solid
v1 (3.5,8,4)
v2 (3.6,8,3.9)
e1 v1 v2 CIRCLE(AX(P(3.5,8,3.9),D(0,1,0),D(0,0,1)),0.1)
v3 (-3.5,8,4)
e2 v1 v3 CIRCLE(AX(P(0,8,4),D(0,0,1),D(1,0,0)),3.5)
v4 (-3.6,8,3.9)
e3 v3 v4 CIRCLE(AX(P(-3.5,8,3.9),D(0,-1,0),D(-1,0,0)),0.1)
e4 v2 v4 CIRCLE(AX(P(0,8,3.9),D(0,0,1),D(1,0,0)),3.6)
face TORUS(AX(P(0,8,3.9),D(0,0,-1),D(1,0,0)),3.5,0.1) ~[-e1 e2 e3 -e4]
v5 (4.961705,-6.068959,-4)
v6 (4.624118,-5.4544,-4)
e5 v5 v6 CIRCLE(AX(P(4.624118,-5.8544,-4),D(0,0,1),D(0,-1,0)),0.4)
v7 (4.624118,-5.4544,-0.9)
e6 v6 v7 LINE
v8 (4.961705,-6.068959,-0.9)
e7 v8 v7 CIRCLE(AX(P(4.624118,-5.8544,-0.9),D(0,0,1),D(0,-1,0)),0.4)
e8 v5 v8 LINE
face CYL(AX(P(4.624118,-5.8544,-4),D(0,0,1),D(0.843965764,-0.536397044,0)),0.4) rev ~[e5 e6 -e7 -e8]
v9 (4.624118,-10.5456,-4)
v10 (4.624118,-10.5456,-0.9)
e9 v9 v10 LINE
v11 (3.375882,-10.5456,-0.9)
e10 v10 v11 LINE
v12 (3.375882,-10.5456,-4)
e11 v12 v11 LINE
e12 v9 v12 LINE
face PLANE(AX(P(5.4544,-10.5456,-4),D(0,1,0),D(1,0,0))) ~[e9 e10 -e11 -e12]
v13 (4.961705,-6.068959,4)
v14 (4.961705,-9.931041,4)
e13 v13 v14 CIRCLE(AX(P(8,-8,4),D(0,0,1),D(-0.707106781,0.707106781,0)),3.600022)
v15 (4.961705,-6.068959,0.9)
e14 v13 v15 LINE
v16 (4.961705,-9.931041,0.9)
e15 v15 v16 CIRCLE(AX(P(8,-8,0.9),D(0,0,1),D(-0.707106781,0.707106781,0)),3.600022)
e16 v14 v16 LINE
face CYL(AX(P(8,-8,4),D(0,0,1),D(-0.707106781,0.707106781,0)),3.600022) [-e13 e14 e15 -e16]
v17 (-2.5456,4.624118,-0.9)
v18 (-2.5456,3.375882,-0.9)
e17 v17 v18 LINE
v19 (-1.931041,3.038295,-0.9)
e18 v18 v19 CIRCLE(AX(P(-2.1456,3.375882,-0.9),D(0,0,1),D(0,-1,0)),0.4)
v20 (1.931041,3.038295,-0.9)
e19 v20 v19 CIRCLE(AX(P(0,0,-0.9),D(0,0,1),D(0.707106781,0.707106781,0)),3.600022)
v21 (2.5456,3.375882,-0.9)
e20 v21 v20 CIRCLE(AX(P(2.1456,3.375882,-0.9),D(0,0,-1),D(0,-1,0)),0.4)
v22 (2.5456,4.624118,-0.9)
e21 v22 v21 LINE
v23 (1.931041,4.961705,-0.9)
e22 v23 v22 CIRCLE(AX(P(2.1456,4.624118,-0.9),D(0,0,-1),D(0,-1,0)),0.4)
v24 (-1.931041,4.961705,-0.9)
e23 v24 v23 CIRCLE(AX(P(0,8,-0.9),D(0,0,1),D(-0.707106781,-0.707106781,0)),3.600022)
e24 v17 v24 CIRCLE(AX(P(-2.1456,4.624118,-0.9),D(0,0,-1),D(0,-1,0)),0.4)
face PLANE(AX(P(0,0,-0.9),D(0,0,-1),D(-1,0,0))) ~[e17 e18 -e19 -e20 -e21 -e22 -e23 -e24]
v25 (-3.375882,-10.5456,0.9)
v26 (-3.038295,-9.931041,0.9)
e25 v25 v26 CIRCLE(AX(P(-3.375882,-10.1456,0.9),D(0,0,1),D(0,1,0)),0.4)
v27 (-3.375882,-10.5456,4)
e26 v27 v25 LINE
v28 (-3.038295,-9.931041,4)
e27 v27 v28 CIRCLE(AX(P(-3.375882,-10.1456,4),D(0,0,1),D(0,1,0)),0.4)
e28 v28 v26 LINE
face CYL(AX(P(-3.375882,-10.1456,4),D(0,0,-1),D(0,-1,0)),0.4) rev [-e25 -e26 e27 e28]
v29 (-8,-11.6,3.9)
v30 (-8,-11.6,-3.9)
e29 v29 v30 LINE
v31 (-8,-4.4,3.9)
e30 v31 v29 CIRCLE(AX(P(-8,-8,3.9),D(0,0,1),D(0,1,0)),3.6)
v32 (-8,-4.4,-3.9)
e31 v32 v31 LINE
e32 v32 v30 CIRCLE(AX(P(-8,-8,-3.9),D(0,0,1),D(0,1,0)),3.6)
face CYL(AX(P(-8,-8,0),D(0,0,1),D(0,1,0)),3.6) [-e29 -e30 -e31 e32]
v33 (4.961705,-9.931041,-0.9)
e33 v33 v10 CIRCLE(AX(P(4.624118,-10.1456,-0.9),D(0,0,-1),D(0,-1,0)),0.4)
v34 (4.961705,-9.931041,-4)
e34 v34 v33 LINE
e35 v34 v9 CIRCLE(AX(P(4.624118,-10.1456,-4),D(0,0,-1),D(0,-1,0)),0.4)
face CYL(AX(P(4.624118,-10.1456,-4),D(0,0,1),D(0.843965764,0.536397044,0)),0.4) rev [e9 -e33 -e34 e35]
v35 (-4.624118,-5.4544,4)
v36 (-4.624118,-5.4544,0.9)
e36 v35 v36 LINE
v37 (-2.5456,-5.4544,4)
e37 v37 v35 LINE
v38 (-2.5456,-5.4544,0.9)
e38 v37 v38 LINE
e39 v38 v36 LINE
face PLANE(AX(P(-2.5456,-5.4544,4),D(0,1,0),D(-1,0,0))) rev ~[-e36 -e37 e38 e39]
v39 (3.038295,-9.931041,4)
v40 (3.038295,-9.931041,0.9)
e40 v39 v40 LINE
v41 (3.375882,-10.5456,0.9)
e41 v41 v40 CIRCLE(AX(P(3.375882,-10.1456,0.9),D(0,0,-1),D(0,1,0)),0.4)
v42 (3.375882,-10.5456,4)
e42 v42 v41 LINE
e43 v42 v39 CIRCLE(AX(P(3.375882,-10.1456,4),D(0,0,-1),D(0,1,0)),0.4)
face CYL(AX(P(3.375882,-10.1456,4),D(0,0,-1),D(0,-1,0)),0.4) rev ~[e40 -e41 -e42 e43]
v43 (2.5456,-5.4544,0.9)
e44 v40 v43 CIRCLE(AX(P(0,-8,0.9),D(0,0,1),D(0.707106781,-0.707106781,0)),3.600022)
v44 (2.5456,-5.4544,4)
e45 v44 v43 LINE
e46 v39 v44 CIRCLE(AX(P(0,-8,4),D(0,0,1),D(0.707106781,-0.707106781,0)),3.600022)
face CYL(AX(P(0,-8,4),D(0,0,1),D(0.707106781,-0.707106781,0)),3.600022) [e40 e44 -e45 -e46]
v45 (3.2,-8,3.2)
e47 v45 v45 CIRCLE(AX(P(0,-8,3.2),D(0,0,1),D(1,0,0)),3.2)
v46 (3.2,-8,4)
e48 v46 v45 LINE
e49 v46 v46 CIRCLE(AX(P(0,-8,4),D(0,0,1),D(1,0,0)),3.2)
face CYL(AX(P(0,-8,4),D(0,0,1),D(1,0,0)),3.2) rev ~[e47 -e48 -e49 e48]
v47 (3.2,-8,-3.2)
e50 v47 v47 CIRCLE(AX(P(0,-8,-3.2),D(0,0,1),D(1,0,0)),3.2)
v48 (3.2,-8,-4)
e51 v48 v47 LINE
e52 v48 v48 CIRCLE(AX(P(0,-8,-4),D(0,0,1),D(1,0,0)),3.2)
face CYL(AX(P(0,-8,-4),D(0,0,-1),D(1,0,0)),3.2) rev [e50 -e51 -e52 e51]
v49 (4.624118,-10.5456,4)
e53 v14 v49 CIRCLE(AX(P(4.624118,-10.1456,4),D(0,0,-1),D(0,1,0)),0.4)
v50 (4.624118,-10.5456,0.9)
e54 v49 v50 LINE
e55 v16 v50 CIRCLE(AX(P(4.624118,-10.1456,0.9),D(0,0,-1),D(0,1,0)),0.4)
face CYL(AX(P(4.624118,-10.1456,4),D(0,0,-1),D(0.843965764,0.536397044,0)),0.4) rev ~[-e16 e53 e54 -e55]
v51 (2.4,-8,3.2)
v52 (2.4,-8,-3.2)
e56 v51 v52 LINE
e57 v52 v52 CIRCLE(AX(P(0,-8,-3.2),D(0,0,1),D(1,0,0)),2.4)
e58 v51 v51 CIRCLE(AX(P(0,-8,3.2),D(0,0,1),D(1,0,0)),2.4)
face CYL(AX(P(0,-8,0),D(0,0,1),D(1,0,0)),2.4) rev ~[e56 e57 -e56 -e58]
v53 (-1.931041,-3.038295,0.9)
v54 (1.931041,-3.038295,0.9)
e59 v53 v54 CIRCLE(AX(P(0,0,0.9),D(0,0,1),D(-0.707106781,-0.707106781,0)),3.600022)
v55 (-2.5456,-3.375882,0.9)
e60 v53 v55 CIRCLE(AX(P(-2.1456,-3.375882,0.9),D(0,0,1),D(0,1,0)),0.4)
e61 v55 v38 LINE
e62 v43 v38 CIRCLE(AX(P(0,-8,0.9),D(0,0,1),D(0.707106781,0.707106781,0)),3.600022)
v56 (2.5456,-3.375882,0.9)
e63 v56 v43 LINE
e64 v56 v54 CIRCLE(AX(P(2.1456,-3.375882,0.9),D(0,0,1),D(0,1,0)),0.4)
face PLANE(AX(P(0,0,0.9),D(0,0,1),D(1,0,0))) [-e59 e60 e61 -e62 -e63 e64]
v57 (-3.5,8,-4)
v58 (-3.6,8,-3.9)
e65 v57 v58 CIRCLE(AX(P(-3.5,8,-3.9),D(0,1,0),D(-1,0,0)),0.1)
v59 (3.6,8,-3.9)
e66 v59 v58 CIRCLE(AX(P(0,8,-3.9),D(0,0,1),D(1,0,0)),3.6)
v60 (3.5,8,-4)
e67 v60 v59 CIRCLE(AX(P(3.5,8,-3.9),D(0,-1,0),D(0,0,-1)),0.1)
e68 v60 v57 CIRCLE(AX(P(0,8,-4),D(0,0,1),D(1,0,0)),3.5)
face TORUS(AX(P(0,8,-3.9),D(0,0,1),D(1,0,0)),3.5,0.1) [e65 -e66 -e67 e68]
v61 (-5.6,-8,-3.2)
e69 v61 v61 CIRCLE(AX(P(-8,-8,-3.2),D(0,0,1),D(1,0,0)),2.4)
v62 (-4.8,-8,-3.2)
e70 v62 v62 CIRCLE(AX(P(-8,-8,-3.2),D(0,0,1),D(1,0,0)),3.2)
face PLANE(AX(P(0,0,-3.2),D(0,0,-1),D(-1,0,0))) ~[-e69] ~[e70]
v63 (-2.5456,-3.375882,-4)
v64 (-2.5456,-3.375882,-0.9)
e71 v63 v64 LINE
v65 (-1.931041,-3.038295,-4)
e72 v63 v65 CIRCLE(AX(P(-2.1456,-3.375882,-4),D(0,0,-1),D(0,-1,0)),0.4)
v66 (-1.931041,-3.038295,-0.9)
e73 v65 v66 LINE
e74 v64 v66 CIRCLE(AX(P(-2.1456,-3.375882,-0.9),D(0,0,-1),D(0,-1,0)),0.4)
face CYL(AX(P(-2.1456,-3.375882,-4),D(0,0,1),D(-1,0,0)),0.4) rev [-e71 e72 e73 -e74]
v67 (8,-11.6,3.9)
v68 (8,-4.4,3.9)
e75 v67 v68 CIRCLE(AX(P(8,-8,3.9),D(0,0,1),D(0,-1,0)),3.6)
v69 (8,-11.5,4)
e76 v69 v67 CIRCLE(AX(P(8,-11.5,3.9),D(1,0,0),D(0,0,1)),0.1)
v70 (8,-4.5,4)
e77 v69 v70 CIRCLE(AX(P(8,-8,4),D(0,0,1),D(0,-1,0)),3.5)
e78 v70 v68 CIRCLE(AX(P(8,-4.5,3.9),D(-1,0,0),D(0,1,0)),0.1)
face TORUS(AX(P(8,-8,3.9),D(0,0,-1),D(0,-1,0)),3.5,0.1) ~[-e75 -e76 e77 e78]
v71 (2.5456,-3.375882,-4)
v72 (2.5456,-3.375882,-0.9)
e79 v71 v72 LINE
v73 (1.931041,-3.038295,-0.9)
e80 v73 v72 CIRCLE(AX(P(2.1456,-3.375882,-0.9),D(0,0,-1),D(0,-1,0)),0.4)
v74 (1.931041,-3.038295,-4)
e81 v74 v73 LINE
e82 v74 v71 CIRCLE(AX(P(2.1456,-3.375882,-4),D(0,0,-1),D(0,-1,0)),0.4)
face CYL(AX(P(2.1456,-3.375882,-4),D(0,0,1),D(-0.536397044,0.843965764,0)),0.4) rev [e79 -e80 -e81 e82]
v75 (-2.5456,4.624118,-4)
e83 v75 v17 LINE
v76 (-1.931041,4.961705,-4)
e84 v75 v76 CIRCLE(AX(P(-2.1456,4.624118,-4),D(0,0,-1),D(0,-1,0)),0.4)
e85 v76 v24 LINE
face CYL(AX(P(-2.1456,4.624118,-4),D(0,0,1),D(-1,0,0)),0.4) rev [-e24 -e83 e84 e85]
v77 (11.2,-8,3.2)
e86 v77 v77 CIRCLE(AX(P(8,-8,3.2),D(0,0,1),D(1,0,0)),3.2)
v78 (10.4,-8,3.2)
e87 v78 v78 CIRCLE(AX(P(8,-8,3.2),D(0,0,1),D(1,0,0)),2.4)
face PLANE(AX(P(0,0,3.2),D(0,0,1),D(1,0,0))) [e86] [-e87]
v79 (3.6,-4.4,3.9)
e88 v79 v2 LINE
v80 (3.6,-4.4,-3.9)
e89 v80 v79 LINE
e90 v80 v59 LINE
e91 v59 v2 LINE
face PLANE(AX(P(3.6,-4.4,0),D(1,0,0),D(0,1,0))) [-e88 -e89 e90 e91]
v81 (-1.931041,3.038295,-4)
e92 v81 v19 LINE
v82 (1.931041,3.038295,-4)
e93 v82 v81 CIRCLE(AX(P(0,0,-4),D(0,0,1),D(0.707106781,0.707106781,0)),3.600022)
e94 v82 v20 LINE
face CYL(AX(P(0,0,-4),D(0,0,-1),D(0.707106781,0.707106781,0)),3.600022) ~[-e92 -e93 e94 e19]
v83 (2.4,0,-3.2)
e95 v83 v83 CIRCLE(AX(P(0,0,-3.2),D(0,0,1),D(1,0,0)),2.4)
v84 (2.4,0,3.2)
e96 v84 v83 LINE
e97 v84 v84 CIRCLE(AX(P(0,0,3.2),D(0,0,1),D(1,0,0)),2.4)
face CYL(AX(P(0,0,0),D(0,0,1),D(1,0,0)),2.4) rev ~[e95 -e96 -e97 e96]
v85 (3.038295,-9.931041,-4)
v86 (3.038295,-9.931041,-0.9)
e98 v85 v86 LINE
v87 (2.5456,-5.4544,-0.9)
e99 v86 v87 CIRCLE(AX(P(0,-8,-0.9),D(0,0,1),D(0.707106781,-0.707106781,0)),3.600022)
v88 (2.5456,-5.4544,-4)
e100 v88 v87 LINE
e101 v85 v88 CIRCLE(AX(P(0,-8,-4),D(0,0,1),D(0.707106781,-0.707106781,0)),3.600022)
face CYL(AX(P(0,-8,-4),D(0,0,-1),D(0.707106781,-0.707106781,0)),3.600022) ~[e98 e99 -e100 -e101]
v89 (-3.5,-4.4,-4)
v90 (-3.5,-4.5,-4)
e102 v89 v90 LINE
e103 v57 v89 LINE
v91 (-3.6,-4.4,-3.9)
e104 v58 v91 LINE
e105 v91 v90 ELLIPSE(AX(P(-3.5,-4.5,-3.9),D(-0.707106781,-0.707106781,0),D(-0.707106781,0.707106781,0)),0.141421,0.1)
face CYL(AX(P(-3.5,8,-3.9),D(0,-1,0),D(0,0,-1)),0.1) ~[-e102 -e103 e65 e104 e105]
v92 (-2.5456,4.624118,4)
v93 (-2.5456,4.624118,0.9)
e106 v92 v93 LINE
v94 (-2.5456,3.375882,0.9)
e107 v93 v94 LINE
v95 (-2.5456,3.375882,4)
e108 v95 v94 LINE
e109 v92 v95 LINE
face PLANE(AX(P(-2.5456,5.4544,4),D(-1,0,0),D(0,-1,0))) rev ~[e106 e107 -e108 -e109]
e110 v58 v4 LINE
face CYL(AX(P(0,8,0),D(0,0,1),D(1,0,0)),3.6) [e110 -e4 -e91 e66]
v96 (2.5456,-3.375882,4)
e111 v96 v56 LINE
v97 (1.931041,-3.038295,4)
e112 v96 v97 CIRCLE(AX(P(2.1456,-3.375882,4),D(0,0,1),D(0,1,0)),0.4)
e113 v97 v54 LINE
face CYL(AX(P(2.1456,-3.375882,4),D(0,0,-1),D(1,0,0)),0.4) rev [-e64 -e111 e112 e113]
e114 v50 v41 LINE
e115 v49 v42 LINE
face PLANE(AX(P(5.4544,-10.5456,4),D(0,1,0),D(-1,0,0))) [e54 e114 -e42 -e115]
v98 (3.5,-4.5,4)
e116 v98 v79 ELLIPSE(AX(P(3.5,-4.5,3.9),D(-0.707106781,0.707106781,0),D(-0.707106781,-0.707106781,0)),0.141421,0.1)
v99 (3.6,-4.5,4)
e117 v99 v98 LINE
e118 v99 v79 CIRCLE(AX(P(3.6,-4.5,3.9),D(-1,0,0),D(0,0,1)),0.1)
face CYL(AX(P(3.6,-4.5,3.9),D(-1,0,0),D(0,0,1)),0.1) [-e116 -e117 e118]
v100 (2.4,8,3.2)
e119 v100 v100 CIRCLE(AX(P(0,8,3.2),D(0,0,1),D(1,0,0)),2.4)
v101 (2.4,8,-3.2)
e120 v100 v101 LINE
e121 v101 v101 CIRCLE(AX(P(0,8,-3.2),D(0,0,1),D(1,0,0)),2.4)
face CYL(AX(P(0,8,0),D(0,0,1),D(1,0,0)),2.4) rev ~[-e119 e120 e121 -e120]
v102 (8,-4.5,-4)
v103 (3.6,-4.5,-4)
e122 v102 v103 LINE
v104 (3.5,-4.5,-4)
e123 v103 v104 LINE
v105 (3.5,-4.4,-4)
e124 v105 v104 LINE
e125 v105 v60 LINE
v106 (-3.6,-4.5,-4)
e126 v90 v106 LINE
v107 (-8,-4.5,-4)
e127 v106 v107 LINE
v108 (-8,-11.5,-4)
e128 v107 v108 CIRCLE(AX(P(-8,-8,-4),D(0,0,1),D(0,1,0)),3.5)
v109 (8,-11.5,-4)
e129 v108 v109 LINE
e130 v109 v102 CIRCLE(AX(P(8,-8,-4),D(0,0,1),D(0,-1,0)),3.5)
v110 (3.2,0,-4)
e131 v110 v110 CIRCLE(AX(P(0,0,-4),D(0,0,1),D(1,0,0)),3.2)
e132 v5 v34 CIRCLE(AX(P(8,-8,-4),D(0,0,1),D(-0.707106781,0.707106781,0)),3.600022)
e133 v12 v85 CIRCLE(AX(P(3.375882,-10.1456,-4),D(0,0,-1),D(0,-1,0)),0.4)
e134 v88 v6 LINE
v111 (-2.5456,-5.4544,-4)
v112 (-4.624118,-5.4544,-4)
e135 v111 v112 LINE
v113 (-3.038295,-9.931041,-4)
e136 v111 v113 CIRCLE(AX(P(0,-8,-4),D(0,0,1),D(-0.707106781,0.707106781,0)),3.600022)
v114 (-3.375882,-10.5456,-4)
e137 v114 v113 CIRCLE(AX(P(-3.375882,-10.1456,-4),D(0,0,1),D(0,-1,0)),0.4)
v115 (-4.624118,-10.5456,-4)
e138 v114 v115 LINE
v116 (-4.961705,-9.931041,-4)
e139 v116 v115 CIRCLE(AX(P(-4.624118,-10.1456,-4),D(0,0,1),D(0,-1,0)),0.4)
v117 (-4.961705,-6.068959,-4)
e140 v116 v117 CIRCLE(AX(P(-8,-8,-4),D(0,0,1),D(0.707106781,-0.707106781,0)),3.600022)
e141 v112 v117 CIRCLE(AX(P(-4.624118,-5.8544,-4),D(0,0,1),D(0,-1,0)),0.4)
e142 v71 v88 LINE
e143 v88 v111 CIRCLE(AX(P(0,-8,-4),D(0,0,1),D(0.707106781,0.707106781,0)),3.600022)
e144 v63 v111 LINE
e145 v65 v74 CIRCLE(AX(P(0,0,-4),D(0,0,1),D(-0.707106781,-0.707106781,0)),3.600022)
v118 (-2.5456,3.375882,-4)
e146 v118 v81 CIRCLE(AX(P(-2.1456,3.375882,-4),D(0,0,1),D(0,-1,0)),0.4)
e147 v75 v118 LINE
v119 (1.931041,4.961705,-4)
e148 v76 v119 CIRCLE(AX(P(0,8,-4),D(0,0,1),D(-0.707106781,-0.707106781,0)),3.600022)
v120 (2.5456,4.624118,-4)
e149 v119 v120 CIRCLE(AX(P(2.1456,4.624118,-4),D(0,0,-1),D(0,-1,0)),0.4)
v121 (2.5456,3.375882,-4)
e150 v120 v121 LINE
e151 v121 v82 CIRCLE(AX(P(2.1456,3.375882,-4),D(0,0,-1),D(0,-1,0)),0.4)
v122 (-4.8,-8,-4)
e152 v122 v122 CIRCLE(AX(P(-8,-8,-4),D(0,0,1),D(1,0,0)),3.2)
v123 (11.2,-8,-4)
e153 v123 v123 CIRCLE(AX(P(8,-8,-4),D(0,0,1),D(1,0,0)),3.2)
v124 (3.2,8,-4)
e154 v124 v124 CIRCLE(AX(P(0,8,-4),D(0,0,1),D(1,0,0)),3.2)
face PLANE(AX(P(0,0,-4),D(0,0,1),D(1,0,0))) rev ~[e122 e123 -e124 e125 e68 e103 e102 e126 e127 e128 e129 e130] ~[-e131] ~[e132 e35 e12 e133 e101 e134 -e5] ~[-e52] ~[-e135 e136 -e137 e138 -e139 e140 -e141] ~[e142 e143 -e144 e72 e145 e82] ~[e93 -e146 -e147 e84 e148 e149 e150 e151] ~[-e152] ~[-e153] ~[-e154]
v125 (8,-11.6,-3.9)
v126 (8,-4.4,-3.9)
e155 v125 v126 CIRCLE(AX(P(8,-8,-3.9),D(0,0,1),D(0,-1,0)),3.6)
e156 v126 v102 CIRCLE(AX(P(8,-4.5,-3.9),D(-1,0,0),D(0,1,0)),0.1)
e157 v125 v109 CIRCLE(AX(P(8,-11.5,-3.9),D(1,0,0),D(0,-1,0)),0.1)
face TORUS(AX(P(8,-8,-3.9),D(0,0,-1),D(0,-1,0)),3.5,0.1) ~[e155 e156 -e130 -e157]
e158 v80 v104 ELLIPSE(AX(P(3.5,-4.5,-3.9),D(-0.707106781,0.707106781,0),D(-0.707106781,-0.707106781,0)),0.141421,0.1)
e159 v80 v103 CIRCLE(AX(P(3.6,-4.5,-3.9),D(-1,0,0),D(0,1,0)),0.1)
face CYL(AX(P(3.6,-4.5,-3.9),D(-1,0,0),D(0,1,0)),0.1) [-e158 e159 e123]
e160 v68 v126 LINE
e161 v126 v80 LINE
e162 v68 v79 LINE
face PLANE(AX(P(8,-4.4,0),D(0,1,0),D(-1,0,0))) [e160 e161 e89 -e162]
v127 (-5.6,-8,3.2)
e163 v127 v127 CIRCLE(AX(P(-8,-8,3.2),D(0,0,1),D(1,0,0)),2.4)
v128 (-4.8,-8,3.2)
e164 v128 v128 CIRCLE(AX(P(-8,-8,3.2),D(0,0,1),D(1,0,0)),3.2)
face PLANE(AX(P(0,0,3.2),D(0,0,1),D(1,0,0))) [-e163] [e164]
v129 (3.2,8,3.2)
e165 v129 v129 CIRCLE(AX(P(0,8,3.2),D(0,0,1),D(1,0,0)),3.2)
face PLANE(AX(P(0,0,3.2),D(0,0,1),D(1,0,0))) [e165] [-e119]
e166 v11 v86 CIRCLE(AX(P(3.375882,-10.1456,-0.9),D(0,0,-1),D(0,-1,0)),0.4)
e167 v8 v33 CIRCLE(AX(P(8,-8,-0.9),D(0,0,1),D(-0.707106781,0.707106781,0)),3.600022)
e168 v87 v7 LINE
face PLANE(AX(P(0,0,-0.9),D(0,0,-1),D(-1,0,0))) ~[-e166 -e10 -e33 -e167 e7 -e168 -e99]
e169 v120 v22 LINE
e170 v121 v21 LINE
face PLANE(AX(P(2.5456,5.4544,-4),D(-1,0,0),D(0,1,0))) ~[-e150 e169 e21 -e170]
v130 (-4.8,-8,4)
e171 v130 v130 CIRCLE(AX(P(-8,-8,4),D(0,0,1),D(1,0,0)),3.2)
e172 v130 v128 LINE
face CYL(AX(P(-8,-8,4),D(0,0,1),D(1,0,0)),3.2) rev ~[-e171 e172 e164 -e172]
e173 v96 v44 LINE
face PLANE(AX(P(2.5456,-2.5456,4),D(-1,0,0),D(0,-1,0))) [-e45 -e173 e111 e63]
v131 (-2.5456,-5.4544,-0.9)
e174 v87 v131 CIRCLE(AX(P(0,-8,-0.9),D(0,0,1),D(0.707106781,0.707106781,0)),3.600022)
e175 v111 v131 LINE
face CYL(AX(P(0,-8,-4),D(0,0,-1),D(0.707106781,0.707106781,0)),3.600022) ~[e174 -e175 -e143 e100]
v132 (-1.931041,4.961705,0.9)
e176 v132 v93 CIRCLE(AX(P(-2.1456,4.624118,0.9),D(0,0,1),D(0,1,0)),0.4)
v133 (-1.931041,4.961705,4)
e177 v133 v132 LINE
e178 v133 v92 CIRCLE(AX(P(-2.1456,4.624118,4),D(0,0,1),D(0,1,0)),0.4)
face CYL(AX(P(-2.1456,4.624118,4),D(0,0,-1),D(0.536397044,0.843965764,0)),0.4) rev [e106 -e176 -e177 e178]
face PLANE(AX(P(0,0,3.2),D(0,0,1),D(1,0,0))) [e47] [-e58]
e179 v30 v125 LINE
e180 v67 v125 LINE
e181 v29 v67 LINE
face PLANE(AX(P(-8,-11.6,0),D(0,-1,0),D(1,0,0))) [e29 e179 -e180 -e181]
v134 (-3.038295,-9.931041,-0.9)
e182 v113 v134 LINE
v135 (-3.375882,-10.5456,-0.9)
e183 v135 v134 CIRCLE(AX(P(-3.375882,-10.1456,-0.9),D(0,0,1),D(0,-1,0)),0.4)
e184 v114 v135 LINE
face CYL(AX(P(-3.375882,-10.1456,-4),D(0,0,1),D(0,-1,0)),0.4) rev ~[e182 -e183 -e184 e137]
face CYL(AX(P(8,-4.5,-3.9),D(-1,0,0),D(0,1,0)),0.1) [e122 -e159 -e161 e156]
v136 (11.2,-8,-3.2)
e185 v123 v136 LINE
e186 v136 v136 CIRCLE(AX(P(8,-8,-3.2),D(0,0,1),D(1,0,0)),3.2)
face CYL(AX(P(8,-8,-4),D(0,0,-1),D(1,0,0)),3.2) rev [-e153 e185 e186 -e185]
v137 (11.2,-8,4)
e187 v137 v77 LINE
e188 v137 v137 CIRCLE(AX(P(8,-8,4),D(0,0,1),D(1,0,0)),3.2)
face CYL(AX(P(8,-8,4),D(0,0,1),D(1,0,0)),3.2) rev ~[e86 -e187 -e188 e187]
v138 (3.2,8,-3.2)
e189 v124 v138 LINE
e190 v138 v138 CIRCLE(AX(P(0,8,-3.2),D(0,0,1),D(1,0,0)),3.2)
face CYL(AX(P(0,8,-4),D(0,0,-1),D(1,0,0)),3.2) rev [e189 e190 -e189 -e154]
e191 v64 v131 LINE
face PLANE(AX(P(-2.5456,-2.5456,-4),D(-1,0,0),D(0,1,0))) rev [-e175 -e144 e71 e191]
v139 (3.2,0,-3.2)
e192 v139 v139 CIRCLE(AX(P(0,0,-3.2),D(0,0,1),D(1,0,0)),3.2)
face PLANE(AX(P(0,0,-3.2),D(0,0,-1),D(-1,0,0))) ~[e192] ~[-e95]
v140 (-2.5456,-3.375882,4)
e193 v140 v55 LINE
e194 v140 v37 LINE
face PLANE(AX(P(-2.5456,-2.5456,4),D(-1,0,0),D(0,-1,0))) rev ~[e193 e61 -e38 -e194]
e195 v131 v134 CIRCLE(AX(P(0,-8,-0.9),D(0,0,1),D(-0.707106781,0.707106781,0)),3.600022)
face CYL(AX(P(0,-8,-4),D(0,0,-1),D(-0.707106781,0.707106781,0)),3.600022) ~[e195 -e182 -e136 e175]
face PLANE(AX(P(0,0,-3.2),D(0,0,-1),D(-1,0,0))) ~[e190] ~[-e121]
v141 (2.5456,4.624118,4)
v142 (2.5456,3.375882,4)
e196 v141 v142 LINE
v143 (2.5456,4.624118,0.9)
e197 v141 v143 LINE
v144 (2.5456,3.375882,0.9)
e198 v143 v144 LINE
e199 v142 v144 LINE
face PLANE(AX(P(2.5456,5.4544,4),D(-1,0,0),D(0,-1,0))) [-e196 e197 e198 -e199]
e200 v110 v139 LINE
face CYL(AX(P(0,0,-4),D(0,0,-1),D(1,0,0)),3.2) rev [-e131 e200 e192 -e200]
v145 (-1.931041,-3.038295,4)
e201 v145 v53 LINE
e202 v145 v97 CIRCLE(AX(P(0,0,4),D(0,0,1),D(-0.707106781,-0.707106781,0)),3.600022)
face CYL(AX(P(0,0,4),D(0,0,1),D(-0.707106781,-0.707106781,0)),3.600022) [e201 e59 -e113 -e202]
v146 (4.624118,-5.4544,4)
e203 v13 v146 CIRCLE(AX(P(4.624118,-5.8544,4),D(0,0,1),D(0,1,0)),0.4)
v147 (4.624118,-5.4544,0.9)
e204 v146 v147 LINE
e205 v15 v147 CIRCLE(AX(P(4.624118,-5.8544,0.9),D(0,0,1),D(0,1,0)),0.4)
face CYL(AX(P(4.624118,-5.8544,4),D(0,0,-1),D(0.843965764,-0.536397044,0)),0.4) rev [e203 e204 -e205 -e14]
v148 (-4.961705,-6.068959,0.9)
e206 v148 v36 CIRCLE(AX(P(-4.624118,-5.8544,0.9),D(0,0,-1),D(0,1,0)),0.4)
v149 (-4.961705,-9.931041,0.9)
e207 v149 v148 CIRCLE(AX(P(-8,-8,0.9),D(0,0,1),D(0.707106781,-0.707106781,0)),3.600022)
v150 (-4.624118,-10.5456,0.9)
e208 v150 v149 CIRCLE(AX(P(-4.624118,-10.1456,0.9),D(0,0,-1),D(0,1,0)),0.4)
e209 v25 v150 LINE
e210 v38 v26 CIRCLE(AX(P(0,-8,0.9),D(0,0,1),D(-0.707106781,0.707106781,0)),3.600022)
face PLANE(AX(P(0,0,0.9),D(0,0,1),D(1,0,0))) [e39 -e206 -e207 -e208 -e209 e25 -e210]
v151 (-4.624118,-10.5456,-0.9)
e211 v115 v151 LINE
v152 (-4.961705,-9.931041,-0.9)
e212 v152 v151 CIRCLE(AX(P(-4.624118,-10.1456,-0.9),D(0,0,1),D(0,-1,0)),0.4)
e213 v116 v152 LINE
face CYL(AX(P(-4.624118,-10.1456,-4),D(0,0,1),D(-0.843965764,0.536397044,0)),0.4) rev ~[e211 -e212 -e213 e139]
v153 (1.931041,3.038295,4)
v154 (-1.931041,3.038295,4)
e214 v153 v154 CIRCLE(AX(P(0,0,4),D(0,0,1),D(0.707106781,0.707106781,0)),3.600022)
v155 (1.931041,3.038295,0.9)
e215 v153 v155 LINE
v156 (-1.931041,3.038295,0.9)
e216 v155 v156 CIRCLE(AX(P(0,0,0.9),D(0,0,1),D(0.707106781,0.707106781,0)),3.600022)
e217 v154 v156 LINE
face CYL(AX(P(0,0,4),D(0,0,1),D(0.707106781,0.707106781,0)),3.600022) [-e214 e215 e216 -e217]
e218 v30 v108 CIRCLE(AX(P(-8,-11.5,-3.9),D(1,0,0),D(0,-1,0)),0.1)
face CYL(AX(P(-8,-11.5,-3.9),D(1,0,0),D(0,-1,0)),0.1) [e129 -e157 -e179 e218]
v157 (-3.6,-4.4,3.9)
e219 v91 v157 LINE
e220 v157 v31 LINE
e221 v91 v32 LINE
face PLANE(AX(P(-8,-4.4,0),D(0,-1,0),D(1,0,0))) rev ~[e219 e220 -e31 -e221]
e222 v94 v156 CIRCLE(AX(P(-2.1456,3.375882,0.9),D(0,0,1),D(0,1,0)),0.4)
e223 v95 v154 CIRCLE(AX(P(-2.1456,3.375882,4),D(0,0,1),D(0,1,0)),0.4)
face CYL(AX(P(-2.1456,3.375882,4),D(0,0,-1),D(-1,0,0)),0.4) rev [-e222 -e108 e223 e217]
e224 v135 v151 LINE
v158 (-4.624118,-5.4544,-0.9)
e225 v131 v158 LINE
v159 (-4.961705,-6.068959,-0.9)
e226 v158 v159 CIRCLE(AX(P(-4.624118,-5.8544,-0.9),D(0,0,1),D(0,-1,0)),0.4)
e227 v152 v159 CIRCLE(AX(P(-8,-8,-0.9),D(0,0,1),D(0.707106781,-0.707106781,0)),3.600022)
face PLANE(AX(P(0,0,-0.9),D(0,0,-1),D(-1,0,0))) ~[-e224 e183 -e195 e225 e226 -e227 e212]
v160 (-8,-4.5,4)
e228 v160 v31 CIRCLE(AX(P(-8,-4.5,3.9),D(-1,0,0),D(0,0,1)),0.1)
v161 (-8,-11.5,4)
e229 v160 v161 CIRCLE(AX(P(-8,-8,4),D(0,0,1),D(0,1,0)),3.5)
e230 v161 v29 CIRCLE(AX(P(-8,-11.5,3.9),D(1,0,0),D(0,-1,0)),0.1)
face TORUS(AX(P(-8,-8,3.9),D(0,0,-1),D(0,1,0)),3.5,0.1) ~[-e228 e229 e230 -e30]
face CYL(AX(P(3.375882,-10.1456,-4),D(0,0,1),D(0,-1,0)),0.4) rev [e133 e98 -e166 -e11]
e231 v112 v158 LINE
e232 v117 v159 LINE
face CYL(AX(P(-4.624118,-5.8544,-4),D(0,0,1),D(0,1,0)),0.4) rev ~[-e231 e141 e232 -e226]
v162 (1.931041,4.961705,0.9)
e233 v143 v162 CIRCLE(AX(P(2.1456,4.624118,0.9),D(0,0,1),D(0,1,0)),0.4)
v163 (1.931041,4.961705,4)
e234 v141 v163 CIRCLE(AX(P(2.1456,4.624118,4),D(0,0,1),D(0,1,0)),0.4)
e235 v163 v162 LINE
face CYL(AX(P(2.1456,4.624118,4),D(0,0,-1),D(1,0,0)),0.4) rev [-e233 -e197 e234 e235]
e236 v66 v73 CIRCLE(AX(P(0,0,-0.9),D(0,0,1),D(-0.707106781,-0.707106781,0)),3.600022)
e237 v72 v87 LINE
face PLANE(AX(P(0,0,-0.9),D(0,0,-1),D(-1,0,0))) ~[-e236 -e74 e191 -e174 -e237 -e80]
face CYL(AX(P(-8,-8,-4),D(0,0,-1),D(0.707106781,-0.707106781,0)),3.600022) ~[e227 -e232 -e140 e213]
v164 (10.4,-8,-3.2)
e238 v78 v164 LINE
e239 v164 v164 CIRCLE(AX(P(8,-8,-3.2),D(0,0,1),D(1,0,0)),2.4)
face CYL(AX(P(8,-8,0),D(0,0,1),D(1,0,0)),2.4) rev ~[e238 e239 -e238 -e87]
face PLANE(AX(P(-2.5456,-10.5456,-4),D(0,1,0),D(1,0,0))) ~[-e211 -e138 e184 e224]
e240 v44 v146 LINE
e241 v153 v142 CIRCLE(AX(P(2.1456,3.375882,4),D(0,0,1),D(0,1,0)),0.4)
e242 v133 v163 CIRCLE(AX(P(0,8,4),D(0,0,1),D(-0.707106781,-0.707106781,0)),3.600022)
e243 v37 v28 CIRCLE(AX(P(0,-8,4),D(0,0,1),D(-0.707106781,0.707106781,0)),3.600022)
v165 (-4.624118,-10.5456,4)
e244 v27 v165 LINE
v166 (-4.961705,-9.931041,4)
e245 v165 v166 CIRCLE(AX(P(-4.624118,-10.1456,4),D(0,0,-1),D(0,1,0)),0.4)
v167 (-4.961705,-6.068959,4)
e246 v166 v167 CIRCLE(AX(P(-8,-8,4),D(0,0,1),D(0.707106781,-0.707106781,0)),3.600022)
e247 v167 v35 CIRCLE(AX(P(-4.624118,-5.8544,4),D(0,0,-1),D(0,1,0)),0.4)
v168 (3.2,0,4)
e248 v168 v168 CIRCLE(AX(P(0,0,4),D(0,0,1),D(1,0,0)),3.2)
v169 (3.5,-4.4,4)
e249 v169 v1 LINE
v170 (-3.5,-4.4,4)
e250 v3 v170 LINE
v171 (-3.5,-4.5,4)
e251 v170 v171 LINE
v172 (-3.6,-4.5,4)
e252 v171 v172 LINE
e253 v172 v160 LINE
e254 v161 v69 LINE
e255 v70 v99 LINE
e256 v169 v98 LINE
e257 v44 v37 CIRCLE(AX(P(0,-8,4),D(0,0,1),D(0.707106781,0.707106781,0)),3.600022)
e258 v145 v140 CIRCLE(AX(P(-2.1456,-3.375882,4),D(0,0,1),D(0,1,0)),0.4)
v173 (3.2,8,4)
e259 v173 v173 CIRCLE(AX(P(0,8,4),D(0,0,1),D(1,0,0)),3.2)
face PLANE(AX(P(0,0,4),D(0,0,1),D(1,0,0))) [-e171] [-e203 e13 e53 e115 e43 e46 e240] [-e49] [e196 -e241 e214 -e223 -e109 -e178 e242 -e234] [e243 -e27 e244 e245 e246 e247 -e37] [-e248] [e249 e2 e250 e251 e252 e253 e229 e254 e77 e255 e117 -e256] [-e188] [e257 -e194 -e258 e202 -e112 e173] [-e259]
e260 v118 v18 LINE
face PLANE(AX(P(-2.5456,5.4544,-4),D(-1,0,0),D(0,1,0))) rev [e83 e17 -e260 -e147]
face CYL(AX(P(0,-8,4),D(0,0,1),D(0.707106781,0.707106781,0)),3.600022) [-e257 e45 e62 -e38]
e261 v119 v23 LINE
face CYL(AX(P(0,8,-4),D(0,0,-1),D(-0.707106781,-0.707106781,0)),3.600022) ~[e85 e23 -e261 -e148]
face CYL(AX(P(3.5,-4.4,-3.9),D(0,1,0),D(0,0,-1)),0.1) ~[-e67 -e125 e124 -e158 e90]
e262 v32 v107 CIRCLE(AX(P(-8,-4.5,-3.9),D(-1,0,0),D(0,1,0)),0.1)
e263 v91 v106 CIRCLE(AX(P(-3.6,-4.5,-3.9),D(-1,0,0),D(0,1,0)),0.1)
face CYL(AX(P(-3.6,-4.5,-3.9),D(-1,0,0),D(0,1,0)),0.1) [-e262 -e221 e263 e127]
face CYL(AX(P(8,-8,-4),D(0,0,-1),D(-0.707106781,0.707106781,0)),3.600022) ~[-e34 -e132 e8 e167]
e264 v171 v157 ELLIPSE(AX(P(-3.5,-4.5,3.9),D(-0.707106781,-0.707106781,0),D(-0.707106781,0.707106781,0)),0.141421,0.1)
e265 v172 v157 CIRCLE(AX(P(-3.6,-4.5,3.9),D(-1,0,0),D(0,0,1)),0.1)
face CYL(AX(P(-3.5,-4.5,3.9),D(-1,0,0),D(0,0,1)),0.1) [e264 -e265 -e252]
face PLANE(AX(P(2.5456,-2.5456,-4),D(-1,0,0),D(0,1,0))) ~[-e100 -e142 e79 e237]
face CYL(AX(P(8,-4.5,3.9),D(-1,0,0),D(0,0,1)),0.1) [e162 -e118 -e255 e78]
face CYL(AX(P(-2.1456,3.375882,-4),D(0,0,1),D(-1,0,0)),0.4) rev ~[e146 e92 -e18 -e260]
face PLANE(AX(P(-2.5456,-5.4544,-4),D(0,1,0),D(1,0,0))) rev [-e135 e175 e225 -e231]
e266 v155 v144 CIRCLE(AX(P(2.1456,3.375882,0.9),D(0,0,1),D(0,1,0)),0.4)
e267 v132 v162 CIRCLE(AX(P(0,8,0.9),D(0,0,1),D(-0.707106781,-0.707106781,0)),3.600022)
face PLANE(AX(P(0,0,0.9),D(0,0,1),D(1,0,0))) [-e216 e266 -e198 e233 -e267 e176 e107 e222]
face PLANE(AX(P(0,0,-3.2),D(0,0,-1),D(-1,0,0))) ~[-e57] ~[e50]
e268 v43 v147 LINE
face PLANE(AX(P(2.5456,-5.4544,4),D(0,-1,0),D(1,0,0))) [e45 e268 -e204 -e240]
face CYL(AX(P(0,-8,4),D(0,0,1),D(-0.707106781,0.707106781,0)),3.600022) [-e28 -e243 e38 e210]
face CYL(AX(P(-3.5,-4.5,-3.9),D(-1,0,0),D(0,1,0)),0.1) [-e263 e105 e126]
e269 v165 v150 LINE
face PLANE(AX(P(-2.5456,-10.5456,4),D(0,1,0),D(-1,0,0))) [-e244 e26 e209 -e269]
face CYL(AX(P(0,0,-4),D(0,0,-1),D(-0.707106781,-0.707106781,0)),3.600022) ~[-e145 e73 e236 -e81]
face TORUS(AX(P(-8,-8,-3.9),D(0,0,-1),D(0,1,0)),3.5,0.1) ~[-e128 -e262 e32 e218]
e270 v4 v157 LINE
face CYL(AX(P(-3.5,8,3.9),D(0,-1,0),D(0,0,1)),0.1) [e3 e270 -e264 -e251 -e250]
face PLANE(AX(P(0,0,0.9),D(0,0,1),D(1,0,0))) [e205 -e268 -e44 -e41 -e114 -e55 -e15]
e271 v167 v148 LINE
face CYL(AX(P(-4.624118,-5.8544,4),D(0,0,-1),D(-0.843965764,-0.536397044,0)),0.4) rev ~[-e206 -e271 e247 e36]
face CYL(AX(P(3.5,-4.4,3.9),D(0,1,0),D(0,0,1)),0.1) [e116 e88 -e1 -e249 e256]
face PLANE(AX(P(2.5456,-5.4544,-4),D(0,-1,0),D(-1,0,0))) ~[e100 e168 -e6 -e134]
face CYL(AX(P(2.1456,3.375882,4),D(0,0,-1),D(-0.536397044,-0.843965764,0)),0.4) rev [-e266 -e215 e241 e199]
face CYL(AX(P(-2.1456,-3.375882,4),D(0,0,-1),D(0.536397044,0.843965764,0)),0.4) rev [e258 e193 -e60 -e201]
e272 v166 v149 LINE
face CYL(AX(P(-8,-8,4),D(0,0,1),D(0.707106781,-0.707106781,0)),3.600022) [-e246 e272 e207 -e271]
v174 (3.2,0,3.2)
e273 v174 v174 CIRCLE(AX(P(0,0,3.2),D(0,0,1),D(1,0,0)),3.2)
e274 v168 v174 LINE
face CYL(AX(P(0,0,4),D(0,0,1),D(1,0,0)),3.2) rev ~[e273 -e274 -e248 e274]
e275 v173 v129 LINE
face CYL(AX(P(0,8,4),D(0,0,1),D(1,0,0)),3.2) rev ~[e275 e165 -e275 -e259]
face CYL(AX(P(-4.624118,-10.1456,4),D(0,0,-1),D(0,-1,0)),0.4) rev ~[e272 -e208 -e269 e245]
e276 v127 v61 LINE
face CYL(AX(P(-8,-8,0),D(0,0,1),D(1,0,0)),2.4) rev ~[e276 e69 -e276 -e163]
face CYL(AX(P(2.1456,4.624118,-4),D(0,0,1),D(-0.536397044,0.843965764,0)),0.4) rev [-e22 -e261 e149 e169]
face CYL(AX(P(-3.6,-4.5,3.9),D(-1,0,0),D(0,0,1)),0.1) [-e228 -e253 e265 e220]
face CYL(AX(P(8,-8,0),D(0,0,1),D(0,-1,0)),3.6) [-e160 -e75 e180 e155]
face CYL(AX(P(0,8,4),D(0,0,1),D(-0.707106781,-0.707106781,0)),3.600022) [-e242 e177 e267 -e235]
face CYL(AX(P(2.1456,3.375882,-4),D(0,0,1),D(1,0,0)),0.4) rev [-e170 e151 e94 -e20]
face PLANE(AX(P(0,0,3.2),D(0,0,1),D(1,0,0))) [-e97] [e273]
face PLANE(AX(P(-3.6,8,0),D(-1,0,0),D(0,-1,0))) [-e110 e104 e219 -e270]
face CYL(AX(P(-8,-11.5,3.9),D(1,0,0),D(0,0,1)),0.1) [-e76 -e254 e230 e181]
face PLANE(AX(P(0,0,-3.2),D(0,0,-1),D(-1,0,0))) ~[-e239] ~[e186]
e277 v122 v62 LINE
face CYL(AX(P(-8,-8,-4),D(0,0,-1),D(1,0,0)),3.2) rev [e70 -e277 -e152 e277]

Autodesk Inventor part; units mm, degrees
ref_plane "YZ Plane" through (0, 0, 0) normal (1, 0, 0) x (0, 1, 0)
ref_plane "XZ Plane" through (0, 0, 0) normal (0, 1, 0) x (-1, 0, 0)
ref_plane "XY Plane" through (0, 0, 0) normal (0, 0, 1) x (1, 0, 0)
sketch "Sketch1" plane through (0, 0, 0) normal (0, 0, 1) x (1, 0, 0)
  line L0 (3.6, -4.4) -> (3.6, 8)
  line L1 (-3.6, 8) -> (-3.6, -4.4)
  arc A0 (3.6, 8) -> (-3.6, 8) centre (0, 8) ccw
  circle A1 centre (0, 8) radius 2.4
  circle A2 centre (0, 8) radius 3.2
  circle A3 centre (0, 0) radius 3.2
  circle A4 centre (0, 0) radius 2.4
  line L2 (0, 0) -> (0, 8) construction
  line L3 (-2.5456, 5.4544) -> (-2.5456, 2.5456)
  line L4 (2.5456, 5.4544) -> (2.5456, 2.5456)
  arc A5 (-2.5456, 5.4544) -> (2.5456, 5.4544) centre (0, 8) ccw
  arc A6 (2.5456, 2.5456) -> (-2.5456, 2.5456) centre (0, 0) ccw
  arc A7 (-3.6, -8) -> (3.6, -8) centre (0, -8) ccw construction
  circle A8 centre (0, -8) radius 3.2
  circle A9 centre (0, -8) radius 2.4
  line L5 (0, 0) -> (0, -8) construction
  line L6 (-2.5456, -2.5456) -> (-2.5456, -5.4544)
  line L7 (2.5456, -2.5456) -> (2.5456, -5.4544)
  arc A10 (-2.5456, -2.5456) -> (2.5456, -2.5456) centre (0, 0) ccw
  arc A11 (2.5456, -5.4544) -> (-2.5456, -5.4544) centre (0, -8) ccw
  line L8 (0, -8) -> (-2.5456, -5.4544) construction
  line L9 (-8, -11.6) -> (8, -11.6)
  arc A12 (8, -11.6) -> (8, -4.4) centre (8, -8) ccw
  line L10 (8, -4.4) -> (3.6, -4.4)
  arc A13 (-8, -4.4) -> (-8, -11.6) centre (-8, -8) ccw
  line L11 (-8, -4.4) -> (-3.6, -4.4)
  circle A14 centre (-8, -8) radius 3.2
  circle A15 centre (-8, -8) radius 2.4
  circle A16 centre (8, -8) radius 3.2
  circle A17 centre (8, -8) radius 2.4
  line L12 (-8, -8) -> (0, -8) construction
  line L13 (8, -8) -> (0, -8) construction
  dimension "d8" = 4.8
  dimension "d9" = 6.4
  dimension "d32" = 7.2
  dimension "d34" = 8
  dimension "d47" = 45
extrude "Extrusion1" add sketch "Sketch1" along normal mid plane 8 contours L10 A12 L9 A13 L11 L1 A0 L0 | A2 | A3 | A5 L4 A6 L3 | A8 | A10 L7 A11 L6 | A14 | A16
sketch "Sketch6" plane through (0, 0, 4) normal (0, 0, 1) x (1, 0, 0)
  circle A0 centre (0, 0) radius 2.4 projected
  circle A1 centre (0, 8) radius 2.4 projected
  circle A2 centre (0, 0) radius 3.2 projected
  circle A3 centre (0, 8) radius 3.2 projected
  arc A4 (2.5456, 2.5456) -> (-2.5456, 2.5456) centre (0, 0) ccw projected
  line L0 (-2.5456, 5.4544) -> (-2.5456, 2.5456) projected
  arc A5 (-2.5456, 5.4544) -> (2.5456, 5.4544) centre (0, 8) ccw projected
  line L1 (2.5456, 5.4544) -> (2.5456, 2.5456) projected
  line L2 (-2.5456, -2.5456) -> (-2.5456, -5.4544) projected
  arc A6 (-2.5456, -2.5456) -> (2.5456, -2.5456) centre (0, 0) ccw projected
  arc A7 (2.5456, -5.4544) -> (-2.5456, -5.4544) centre (0, -8) ccw projected
  line L3 (2.5456, -2.5456) -> (2.5456, -5.4544) projected
  circle A8 centre (0, -8) radius 3.2 projected
  circle A9 centre (0, -8) radius 2.4 projected
  circle A10 centre (8, -8) radius 2.4 projected
  circle A11 centre (-8, -8) radius 2.4 projected
  line L4 (3.6, 8) -> (3.6, -4.4) projected
  line L5 (-2.5456, -5.4544) -> (-5.4544, -5.4544)
  line L6 (-2.5456, -10.5456) -> (-5.4544, -10.5456)
  line L7 (2.5456, -5.4544) -> (5.4544, -5.4544)
  line L8 (5.4544, -10.5456) -> (2.5456, -10.5456)
  arc A12 (-2.5456, -5.4544) -> (-2.5456, -10.5456) centre (0, -8) ccw
  arc A13 (-5.4544, -10.5456) -> (-5.4544, -5.4544) centre (-8, -8) ccw
  arc A14 (2.5456, -10.5456) -> (2.5456, -5.4544) centre (0, -8) ccw
  arc A15 (5.4544, -5.4544) -> (5.4544, -10.5456) centre (8, -8) ccw
  arc A16 (-8, -4.4) -> (-8, -11.6) centre (-8, -8) ccw projected
  arc A17 (8, -11.6) -> (8, -4.4) centre (8, -8) ccw projected
  circle A18 centre (-8, -8) radius 3.2
  circle A19 centre (8, -8) radius 3.2
extrude "Extrusion7" cut sketch "Sketch6" against normal blind 0.8 contours A2 | A3 | A8 | A18 | A19
extrude "Extrusion8" cut sketch "Sketch6" against normal blind 3.1 contours A4 L0 A5 L1 | A6 L3 A7 L2 | L7 A15 L8 A14 | A12 L6 A13 L5
mirror "Mirror1" about plane through (0, 0, 0) normal (0, 0, 1) of "Extrusion7", "Extrusion8"
fillet "Fillet1" radius 0.1 16 edges at (0, 11.6, 4) (3.6, 1.8, 4) (-3.6, 1.8, 4) (0, 11.6, -4) (-3.6, 1.8, -4) (3.6, 1.8, -4) (0, -11.6, 4) (-11.6, -8, 4) (-5.8, -4.4, 4) (5.8, -4.4, 4) (11.6, -8, 4) (5.8, -4.4, -4) (0, -11.6, -4) (-11.6, -8, -4) (-5.8, -4.4, -4) (11.6, -8, -4)
fillet "Fillet1" radius 0.4 24 edges at (-2.5456, 5.4544, 2.45) (-2.5456, 2.5456, 2.45) (2.5456, 2.5456, 2.45) (2.5456, 5.4544, 2.45) (2.5456, -2.5456, 2.45) (5.4544, -5.4544, 2.45) (5.4544, -10.5456, 2.45) (2.5456, -10.5456, 2.45) (-2.5456, -10.5456, 2.45) (-5.4544, -10.5456, 2.45) (-5.4544, -5.4544, 2.45) (-2.5456, -2.5456, 2.45) (-2.5456, 2.5456, -2.45) (-2.5456, 5.4544, -2.45) (2.5456, 5.4544, -2.45) (2.5456, 2.5456, -2.45) (-2.5456, -2.5456, -2.45) (2.5456, -2.5456, -2.45) (5.4544, -5.4544, -2.45) (5.4544, -10.5456, -2.45) (2.5456, -10.5456, -2.45) (-5.4544, -5.4544, -2.45) (-5.4544, -10.5456, -2.45) (-2.5456, -10.5456, -2.45)
equation "\"d8\" = tpd"
equation "\"d9\" = tsd"
equation "\"d32\" = tlad"
equation "\"d34\" = lu"
equation "\"d14\" = lu"
equation "\"d41\" = tsl"
equation "\"d45\" = lf"
equation "\"d48\" = tf"
equation "\"tpd\" = 4.8"
equation "\"tsd\" = 6.4"
equation "\"tlad\" = 7.2"
equation "\"lu\" = 8"
equation "\"tsl\" = 0.8"
equation "\"lf\" = 0.1"
equation "\"tf\" = 0.4"
properties part number "60484-Yellow" material "ABS Plastic"
